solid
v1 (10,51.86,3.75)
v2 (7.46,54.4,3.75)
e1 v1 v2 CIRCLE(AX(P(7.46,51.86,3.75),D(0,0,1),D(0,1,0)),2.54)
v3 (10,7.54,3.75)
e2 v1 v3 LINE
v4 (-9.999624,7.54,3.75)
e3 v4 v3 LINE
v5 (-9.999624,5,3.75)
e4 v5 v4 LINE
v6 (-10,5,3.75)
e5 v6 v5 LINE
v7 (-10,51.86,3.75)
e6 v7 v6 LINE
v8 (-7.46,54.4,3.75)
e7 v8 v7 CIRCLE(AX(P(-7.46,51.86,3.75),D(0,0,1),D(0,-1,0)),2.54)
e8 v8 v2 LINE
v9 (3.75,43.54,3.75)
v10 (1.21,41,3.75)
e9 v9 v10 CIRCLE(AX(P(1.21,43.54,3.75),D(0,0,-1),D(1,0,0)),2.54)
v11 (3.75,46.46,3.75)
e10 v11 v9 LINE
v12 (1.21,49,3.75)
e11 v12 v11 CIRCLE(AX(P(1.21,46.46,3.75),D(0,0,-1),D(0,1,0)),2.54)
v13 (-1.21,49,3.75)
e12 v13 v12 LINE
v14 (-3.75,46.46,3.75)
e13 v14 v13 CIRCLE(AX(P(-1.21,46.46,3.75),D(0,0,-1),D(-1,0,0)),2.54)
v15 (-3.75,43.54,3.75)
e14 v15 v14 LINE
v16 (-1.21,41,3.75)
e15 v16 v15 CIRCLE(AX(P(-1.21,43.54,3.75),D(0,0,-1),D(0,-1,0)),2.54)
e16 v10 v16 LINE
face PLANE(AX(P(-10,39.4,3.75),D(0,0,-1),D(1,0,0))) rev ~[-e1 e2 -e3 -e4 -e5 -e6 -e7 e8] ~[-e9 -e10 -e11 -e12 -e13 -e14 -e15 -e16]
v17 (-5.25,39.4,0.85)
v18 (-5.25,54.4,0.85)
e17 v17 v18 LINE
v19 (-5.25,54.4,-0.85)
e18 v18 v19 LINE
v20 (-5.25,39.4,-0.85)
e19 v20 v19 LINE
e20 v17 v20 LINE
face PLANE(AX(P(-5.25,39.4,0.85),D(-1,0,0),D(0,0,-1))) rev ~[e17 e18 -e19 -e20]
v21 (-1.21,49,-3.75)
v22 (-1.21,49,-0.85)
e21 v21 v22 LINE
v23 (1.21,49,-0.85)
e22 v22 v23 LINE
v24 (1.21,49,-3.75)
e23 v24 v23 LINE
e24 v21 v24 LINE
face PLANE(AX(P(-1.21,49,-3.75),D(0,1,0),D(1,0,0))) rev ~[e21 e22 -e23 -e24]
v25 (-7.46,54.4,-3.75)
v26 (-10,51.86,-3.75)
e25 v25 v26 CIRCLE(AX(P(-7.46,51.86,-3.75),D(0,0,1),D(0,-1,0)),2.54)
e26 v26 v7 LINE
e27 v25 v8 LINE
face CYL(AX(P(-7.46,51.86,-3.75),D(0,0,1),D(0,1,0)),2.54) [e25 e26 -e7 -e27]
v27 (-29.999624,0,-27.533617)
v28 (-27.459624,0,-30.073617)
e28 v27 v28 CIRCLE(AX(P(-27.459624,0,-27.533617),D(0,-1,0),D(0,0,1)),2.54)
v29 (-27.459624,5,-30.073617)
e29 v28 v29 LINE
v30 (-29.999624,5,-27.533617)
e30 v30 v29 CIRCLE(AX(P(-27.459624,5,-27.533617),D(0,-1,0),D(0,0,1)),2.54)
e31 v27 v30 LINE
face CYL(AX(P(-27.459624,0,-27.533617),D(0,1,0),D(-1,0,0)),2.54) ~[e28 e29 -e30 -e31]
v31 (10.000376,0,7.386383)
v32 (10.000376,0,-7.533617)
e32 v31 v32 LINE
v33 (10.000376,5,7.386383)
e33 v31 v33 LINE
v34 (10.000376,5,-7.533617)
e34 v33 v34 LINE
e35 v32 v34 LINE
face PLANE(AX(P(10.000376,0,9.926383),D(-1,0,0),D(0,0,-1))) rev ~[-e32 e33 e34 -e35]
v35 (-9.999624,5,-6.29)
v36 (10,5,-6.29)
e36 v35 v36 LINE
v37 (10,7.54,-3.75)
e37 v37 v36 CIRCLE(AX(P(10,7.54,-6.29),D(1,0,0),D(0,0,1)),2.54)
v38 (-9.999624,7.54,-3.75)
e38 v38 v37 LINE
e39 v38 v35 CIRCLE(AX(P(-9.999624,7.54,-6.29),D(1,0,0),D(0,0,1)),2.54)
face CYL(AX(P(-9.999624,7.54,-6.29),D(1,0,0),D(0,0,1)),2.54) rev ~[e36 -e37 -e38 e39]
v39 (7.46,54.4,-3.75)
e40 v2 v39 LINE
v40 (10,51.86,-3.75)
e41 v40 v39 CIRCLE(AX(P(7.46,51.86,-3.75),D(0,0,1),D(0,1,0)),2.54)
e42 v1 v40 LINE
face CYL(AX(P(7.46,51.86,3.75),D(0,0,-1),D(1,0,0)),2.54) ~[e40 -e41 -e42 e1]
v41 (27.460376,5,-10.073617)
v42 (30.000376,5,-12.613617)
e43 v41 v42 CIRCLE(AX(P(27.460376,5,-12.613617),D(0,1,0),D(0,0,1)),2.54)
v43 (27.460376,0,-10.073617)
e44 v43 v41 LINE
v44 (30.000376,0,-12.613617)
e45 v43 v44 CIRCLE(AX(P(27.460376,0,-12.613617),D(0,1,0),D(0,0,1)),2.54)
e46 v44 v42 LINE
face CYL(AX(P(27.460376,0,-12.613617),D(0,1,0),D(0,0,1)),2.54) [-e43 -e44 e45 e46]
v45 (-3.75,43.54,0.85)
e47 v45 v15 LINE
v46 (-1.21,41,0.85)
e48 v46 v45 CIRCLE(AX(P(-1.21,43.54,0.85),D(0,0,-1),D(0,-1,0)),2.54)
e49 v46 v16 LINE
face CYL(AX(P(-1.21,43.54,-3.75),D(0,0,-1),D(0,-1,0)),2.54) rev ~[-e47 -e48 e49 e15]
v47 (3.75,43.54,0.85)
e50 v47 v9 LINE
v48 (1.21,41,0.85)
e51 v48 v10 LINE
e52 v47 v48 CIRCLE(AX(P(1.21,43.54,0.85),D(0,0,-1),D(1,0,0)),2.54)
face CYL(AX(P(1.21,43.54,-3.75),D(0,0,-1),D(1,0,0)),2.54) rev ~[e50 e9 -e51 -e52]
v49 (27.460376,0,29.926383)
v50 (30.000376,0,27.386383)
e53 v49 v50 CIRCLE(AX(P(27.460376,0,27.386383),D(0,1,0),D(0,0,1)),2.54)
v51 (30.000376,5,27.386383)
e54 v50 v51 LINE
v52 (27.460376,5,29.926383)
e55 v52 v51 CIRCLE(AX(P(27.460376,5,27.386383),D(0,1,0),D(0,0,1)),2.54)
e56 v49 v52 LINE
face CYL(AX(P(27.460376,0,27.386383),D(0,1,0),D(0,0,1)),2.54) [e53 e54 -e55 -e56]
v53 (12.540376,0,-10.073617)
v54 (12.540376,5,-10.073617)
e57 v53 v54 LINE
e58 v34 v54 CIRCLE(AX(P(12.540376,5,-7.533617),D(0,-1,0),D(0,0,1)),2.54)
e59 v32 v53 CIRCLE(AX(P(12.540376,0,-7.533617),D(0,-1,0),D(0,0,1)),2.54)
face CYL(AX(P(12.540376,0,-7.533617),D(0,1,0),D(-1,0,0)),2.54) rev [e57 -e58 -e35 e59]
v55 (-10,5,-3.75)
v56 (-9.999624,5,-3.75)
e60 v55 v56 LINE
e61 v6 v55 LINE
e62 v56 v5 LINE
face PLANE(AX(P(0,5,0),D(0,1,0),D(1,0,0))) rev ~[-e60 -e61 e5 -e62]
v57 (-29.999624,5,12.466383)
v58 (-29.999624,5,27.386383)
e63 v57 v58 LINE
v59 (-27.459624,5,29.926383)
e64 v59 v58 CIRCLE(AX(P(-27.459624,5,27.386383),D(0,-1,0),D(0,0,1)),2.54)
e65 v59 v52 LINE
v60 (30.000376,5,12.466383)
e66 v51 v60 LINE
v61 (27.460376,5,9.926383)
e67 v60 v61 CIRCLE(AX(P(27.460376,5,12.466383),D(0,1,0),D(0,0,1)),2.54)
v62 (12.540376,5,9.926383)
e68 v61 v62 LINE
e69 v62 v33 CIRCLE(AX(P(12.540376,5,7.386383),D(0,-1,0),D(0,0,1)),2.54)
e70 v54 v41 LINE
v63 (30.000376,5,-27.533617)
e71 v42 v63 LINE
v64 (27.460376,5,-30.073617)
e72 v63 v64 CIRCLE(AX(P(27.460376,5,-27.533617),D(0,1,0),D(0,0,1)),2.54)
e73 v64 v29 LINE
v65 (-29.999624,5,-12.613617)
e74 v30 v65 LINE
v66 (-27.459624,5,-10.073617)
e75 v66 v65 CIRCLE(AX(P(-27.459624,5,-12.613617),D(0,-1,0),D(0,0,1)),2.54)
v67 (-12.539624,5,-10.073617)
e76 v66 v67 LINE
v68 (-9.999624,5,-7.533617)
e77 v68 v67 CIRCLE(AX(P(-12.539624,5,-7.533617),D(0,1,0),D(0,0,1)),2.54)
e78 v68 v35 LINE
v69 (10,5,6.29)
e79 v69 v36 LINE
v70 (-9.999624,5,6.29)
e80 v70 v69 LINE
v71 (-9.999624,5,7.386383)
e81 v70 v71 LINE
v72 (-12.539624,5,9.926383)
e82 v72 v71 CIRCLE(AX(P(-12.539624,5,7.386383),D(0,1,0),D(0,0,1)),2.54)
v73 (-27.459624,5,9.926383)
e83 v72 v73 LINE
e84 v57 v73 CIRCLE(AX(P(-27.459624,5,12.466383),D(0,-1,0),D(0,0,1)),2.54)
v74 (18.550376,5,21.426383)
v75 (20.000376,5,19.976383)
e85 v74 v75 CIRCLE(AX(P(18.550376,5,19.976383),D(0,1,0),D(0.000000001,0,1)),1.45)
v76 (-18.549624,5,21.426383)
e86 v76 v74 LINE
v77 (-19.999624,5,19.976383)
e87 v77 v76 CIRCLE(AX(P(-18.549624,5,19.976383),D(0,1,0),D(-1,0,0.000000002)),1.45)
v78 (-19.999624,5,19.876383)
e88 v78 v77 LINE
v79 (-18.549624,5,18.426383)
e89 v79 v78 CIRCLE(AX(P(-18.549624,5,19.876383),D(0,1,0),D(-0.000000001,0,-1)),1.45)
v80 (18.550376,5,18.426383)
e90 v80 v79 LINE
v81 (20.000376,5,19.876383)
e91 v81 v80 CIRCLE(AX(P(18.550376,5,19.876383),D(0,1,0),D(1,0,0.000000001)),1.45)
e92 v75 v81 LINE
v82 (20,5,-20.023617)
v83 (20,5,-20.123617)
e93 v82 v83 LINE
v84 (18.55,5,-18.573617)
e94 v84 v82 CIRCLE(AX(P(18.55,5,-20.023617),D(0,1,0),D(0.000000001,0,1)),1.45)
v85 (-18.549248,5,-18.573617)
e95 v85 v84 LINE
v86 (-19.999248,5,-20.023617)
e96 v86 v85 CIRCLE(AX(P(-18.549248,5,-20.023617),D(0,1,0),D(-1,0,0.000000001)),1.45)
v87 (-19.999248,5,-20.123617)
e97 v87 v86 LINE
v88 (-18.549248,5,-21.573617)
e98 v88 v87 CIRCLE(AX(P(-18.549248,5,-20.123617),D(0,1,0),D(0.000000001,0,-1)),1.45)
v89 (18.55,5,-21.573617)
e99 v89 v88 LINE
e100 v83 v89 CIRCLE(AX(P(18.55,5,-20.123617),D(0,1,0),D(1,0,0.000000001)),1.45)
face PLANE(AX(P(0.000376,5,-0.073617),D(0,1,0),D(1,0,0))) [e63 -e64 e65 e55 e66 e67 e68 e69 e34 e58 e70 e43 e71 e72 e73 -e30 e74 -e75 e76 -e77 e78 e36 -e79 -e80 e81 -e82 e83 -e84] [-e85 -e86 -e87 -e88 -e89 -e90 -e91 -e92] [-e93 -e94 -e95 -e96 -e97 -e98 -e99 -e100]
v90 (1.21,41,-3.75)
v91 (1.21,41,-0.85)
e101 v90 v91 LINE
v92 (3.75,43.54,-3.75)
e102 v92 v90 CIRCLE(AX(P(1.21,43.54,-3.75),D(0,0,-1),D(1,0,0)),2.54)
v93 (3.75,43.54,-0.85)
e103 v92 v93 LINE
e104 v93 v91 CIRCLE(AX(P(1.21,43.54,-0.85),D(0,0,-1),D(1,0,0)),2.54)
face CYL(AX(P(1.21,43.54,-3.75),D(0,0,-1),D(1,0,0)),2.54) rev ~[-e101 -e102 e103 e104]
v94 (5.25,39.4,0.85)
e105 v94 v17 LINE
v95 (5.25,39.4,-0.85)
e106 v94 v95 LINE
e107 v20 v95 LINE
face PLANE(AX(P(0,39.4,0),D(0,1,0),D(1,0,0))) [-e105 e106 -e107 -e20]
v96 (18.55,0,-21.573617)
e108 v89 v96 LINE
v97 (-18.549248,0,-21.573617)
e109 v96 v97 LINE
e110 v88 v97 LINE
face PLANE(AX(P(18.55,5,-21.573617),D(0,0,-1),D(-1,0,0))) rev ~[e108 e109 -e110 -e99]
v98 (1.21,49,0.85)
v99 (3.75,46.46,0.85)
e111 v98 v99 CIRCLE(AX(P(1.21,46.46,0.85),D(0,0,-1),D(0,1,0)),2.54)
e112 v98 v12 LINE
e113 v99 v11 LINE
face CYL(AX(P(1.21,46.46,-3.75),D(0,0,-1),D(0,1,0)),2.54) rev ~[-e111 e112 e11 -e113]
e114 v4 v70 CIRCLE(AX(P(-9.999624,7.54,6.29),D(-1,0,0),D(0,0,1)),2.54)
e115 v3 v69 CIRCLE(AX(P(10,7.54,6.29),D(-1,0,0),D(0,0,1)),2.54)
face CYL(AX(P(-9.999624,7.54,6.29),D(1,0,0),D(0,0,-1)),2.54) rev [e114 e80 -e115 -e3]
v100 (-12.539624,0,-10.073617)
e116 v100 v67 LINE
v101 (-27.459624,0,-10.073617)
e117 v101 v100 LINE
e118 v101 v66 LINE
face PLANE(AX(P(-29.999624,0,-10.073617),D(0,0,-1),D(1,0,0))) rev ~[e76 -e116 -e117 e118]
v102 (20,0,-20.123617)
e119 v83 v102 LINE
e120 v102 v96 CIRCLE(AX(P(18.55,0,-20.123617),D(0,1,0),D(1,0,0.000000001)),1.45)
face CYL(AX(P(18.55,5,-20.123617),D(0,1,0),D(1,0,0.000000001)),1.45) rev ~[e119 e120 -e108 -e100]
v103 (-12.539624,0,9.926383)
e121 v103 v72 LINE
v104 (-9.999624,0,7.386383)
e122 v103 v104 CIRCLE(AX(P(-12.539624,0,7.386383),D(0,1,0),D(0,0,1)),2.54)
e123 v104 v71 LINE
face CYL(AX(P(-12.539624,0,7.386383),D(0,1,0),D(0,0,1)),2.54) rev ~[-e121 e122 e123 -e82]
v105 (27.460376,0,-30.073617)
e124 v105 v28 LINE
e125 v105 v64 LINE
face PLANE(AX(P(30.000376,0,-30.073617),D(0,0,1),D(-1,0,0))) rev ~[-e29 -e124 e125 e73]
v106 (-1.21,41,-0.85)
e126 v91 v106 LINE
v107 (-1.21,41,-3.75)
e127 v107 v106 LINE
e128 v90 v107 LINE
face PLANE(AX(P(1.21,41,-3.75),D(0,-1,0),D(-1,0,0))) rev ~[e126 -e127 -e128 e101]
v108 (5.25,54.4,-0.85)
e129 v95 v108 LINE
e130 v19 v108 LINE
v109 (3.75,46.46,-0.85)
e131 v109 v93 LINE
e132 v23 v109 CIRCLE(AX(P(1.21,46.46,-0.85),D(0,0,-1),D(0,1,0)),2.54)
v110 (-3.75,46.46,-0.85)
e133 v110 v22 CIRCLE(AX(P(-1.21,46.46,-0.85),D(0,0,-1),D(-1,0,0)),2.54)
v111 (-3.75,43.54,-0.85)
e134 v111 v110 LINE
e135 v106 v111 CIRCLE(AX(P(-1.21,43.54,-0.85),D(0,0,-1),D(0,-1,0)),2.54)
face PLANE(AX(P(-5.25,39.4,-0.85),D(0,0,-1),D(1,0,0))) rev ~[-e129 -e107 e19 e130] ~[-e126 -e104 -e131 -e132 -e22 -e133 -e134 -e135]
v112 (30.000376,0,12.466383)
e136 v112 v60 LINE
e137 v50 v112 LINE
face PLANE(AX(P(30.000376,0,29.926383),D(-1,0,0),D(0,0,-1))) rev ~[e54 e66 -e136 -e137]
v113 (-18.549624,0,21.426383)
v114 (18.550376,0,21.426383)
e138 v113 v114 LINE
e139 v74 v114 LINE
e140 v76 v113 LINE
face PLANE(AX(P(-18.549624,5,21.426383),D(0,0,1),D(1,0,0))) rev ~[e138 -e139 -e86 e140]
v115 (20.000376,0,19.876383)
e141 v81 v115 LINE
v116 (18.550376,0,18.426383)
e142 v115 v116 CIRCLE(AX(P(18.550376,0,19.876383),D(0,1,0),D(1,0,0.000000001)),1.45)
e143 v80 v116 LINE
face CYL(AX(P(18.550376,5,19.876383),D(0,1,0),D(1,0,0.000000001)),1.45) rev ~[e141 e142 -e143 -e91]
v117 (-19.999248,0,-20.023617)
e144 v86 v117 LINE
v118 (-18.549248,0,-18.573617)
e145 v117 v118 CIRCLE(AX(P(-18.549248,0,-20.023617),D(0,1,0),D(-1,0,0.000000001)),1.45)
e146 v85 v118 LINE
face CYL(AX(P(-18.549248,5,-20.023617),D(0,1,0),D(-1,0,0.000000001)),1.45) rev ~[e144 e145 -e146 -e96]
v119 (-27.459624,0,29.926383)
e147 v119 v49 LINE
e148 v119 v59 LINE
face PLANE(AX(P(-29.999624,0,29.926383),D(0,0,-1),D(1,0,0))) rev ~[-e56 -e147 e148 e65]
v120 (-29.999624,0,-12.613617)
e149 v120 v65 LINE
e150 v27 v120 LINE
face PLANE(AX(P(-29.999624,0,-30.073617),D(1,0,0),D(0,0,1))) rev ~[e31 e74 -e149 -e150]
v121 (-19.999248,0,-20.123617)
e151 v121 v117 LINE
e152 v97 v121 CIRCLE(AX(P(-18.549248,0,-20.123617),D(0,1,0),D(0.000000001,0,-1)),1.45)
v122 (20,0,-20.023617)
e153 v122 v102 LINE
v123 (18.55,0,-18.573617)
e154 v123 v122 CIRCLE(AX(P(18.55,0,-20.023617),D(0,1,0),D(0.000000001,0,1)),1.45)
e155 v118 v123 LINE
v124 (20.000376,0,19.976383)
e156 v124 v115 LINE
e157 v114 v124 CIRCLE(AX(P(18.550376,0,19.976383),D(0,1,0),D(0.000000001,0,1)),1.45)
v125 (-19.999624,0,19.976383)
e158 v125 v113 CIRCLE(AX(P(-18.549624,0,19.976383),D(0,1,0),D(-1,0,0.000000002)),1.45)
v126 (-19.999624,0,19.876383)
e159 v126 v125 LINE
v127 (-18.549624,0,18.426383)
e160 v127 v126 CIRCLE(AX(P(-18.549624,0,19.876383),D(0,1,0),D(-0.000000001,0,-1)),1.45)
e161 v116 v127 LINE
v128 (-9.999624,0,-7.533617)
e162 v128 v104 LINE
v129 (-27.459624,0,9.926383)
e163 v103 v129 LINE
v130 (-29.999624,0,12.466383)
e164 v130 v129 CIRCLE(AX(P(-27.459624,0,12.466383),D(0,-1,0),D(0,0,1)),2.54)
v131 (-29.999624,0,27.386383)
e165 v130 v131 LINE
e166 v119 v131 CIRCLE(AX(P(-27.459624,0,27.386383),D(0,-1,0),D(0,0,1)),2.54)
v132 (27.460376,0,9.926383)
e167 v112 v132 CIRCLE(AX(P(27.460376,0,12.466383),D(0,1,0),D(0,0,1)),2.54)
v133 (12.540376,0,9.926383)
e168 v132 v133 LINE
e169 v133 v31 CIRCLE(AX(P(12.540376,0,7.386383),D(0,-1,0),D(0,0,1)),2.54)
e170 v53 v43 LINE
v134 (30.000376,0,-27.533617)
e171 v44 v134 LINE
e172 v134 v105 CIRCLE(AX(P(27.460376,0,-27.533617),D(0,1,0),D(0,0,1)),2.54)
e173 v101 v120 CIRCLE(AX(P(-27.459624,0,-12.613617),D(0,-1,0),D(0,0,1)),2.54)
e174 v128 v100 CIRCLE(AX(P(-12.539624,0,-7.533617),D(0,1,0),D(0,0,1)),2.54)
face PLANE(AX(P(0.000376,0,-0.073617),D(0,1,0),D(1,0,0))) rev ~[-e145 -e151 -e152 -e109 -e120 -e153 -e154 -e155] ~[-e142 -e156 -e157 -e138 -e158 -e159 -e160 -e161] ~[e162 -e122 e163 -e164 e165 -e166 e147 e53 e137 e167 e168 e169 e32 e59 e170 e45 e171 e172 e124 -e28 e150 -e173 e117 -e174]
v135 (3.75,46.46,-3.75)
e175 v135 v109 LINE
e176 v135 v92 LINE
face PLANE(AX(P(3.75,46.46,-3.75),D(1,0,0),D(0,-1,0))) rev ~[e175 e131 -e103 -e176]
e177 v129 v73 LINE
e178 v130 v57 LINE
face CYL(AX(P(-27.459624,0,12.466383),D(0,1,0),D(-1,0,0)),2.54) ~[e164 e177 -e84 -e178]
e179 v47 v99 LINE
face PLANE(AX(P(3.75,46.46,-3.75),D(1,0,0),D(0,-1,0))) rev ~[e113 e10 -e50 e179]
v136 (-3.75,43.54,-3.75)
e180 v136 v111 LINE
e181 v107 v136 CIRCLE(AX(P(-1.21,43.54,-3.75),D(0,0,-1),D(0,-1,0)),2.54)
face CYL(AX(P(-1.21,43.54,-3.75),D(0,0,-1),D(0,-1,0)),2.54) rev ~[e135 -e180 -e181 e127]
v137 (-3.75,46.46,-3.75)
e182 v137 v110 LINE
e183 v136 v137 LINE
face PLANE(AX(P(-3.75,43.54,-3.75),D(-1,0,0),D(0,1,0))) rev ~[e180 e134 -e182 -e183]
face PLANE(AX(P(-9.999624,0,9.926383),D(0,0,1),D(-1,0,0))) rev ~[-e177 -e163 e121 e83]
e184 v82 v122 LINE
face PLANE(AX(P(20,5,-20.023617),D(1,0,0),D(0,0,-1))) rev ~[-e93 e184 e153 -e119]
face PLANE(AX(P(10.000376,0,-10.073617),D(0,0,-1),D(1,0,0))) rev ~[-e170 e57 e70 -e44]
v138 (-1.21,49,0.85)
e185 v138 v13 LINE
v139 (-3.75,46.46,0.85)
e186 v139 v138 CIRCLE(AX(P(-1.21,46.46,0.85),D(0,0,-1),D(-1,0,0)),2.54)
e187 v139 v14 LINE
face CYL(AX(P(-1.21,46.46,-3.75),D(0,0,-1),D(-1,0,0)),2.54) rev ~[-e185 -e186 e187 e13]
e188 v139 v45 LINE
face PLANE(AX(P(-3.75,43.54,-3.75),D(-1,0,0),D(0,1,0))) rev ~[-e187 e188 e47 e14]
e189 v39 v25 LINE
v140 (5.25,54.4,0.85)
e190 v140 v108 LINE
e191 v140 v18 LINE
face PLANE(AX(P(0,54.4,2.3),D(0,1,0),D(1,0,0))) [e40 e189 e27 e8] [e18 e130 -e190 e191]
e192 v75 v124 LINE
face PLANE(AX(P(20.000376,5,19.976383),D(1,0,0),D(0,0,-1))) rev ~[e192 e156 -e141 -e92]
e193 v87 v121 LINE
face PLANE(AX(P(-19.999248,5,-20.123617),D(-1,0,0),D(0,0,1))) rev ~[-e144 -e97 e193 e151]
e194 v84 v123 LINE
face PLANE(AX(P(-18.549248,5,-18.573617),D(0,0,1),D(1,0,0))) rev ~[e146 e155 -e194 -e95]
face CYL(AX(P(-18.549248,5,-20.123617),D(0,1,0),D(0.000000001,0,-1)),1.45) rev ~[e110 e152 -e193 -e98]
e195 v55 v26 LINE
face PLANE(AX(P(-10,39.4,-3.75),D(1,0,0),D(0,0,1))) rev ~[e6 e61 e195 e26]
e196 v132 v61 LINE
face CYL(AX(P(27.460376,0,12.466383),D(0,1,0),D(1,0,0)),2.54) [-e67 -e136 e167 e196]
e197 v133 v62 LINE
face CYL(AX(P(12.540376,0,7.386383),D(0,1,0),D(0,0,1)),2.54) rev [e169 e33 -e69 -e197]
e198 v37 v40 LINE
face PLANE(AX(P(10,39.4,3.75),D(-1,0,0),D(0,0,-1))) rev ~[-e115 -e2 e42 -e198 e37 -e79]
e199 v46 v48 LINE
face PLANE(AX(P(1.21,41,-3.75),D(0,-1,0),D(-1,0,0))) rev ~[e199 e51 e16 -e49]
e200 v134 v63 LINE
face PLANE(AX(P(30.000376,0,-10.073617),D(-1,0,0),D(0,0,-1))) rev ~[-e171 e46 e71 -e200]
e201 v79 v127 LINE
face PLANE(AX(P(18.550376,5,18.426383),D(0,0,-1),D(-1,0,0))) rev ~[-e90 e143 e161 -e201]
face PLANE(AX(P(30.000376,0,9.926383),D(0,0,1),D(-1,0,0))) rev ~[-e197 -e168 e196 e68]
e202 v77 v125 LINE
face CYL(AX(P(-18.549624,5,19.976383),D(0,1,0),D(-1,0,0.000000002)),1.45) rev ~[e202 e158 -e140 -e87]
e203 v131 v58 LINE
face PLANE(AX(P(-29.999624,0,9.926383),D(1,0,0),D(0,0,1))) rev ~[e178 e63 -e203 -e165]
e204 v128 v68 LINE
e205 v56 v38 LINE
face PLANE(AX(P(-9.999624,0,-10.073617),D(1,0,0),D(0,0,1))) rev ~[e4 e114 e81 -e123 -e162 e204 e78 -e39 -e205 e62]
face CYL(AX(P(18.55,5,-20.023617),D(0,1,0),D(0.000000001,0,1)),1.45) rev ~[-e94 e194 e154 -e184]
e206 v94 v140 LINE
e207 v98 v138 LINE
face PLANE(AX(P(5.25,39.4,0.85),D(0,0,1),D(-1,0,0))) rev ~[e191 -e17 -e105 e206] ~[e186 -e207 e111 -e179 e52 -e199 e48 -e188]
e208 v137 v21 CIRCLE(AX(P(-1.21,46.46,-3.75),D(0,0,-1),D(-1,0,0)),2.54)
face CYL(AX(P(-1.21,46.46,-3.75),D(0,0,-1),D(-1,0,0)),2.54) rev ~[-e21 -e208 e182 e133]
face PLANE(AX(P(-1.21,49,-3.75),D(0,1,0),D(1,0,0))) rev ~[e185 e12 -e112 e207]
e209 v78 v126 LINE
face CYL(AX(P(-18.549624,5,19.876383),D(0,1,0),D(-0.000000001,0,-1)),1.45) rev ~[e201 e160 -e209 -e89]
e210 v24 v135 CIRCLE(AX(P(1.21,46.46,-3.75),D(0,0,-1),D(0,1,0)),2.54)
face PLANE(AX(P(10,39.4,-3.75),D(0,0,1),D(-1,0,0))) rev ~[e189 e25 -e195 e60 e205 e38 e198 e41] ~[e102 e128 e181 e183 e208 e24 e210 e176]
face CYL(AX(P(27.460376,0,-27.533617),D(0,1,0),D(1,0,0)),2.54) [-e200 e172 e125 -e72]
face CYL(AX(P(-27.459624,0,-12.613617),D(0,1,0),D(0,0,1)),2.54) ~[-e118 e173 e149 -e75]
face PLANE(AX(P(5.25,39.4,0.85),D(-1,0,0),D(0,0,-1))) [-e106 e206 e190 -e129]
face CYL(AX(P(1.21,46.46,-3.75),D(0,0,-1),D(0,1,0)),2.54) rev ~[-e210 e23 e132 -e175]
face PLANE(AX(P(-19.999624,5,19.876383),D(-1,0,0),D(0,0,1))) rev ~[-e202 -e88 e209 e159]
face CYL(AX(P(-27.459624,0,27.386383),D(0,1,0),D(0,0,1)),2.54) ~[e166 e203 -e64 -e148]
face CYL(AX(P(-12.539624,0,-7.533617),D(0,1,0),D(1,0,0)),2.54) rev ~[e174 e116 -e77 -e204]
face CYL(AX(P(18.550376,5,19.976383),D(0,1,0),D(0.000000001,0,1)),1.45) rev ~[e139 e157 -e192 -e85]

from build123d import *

# Parameters (mm, degrees)
BOSS_EXTRUDE1_DEPTH = 5
CUT_EXTRUDE1_DEPTH  = 43.772012023
FILLET1_R           = 2.54
SKETCH3_W           = 20
SKETCH3_H           = 7.5
BOSS_EXTRUDE2_DEPTH = 34.4
SKETCH4_W           = 4.75
SKETCH4_H           = 1.7
BOSS_EXTRUDE3_DEPTH = 15
CUT_EXTRUDE2_DEPTH  = 71.664569081
FILLET2_R           = 2.54


with BuildPart() as part:
    # Sketch1 → Boss-Extrude1 (new body)
    with BuildSketch(Plane(origin=(0, 0, 0), x_dir=(1, 0, 0), z_dir=(0, 1, 0))):
        Polygon((-29.999623956, -29.926382831), (30.000376044, -29.926382831), (30.000376044, -9.926382831), (10.000376044, -9.926382831), (10.000376044, 10.073617169), (30.000376044, 10.073617169), (30.000376044, 30.073617169), (-29.999623956, 30.073617169), (-29.999623956, 10.073617169), (-9.999623956, 10.073617169), (-9.999623956, -9.926382831), (-29.999623956, -9.926382831), align=None)
    extrude(amount=BOSS_EXTRUDE1_DEPTH)

    # Sketch2 → Cut-Extrude1 (cut, through all)
    with BuildSketch(Plane(origin=(0, 5, 0), x_dir=(1, 0, 0), z_dir=(0, 1, 0))):
        with BuildLine():
            Line((-18.549247911, 18.573617169), (18.55, 18.573617169))
            ThreePointArc((18.55, 18.573617169), (19.575304833, 18.998312337), (20, 20.023617169))
            Line((20, 20.023617169), (20, 20.123617169))
            ThreePointArc((20, 20.123617169), (19.575304833, 21.148922002), (18.55, 21.573617169))
            Line((18.55, 21.573617169), (-18.549247911, 21.573617169))
            ThreePointArc((-18.549247911, 21.573617169), (-19.574552744, 21.148922002), (-19.999247911, 20.123617169))
            Line((-19.999247911, 20.123617169), (-19.999247911, 20.023617169))
            ThreePointArc((-19.999247911, 20.023617169), (-19.574552744, 18.998312337), (-18.549247911, 18.573617169))
        make_face()
        with BuildLine():
            Line((-18.549623956, -21.426382831), (18.550376044, -21.426382831))
            ThreePointArc((18.550376044, -21.426382831), (19.575680877, -21.001687663), (20.000376044, -19.976382831))
            Line((20.000376044, -19.976382831), (20.000376044, -19.876382831))
            ThreePointArc((20.000376044, -19.876382831), (19.575680877, -18.851077998), (18.550376044, -18.426382831))
            Line((18.550376044, -18.426382831), (-18.549623956, -18.426382831))
            ThreePointArc((-18.549623956, -18.426382831), (-19.574928788, -18.851077998), (-19.999623956, -19.876382831))
            Line((-19.999623956, -19.876382831), (-19.999623956, -19.976382831))
            ThreePointArc((-19.999623956, -19.976382831), (-19.574928788, -21.001687663), (-18.549623956, -21.426382831))
        make_face()
    extrude(amount=-CUT_EXTRUDE1_DEPTH, mode=Mode.SUBTRACT)

    # Fillet1
    fillet1_edges = [part.edges().sort_by_distance(p)[0] for p in [
        (-29.999623956, 2.5, -10.073617169),
        (-29.999623956, 2.5, -30.073617169),
        (30.000376044, 2.5, -30.073617169),
        (30.000376044, 2.5, -10.073617169),
        (10.000376044, 2.5, -10.073617169),
        (10.000376044, 2.5, 9.926382831),
        (30.000376044, 2.5, 9.926382831),
        (30.000376044, 2.5, 29.926382831),
        (-29.999623956, 2.5, 29.926382831),
        (-29.999623956, 2.5, 9.926382831),
        (-9.999623956, 2.5, 9.926382831),
        (-9.999623956, 2.5, -10.073617169),
    ]]
    fillet(fillet1_edges, radius=FILLET1_R)

    # Sketch3 → Boss-Extrude2 (add)
    with BuildSketch(Plane(origin=(0, 5, 0), x_dir=(1, 0, 0), z_dir=(0, 1, 0))):
        Rectangle(SKETCH3_W, SKETCH3_H)
    extrude(amount=BOSS_EXTRUDE2_DEPTH)

    # Sketch4 → Boss-Extrude3 (add)
    with BuildSketch(Plane(origin=(0, 39.4, 0), x_dir=(1, 0, 0), z_dir=(0, 1, 0))):
        Polygon((10, -3.75), (10, -0.85), (5.25, -0.85), (-5.25, -0.85), (-10, -0.85), (-10, -3.75), align=None)
        with Locations((7.625, 0)):
            Rectangle(SKETCH4_W, SKETCH4_H)
        Polygon((5.25, 0.85), (10, 0.85), (10, 3.75), (-10, 3.75), (-10, 0.85), (-5.25, 0.85), align=None)
        with Locations((-7.625, 0)):
            Rectangle(SKETCH4_W, SKETCH4_H)
    extrude(amount=BOSS_EXTRUDE3_DEPTH)

    # Sketch5 → Cut-Extrude2 (cut, through all)
    with BuildSketch(Plane(origin=(0, 0, -3.75), x_dir=(-1, 0, 0), z_dir=(0, 0, -1))):
        with BuildLine():
            Line((-1.21, 41), (1.21, 41))
            ThreePointArc((1.21, 41), (3.006051224, 41.743948776), (3.75, 43.54))
            Line((3.75, 43.54), (3.75, 46.46))
            ThreePointArc((3.75, 46.46), (3.006051224, 48.256051224), (1.21, 49))
            Line((1.21, 49), (-1.21, 49))
            ThreePointArc((-1.21, 49), (-3.006051224, 48.256051224), (-3.75, 46.46))
            Line((-3.75, 46.46), (-3.75, 43.54))
            ThreePointArc((-3.75, 43.54), (-3.006051224, 41.743948776), (-1.21, 41))
        make_face()
    extrude(amount=-CUT_EXTRUDE2_DEPTH, mode=Mode.SUBTRACT)

    # Fillet2
    fillet2_edges = [part.edges().sort_by_distance(p)[0] for p in [
        (0.000188022, 5, 3.75),
        (0.000188022, 5, -3.75),
        (-10, 54.4, 0),
        (10, 54.4, 0),
    ]]
    fillet(fillet2_edges, radius=FILLET2_R)


solid = part.part
